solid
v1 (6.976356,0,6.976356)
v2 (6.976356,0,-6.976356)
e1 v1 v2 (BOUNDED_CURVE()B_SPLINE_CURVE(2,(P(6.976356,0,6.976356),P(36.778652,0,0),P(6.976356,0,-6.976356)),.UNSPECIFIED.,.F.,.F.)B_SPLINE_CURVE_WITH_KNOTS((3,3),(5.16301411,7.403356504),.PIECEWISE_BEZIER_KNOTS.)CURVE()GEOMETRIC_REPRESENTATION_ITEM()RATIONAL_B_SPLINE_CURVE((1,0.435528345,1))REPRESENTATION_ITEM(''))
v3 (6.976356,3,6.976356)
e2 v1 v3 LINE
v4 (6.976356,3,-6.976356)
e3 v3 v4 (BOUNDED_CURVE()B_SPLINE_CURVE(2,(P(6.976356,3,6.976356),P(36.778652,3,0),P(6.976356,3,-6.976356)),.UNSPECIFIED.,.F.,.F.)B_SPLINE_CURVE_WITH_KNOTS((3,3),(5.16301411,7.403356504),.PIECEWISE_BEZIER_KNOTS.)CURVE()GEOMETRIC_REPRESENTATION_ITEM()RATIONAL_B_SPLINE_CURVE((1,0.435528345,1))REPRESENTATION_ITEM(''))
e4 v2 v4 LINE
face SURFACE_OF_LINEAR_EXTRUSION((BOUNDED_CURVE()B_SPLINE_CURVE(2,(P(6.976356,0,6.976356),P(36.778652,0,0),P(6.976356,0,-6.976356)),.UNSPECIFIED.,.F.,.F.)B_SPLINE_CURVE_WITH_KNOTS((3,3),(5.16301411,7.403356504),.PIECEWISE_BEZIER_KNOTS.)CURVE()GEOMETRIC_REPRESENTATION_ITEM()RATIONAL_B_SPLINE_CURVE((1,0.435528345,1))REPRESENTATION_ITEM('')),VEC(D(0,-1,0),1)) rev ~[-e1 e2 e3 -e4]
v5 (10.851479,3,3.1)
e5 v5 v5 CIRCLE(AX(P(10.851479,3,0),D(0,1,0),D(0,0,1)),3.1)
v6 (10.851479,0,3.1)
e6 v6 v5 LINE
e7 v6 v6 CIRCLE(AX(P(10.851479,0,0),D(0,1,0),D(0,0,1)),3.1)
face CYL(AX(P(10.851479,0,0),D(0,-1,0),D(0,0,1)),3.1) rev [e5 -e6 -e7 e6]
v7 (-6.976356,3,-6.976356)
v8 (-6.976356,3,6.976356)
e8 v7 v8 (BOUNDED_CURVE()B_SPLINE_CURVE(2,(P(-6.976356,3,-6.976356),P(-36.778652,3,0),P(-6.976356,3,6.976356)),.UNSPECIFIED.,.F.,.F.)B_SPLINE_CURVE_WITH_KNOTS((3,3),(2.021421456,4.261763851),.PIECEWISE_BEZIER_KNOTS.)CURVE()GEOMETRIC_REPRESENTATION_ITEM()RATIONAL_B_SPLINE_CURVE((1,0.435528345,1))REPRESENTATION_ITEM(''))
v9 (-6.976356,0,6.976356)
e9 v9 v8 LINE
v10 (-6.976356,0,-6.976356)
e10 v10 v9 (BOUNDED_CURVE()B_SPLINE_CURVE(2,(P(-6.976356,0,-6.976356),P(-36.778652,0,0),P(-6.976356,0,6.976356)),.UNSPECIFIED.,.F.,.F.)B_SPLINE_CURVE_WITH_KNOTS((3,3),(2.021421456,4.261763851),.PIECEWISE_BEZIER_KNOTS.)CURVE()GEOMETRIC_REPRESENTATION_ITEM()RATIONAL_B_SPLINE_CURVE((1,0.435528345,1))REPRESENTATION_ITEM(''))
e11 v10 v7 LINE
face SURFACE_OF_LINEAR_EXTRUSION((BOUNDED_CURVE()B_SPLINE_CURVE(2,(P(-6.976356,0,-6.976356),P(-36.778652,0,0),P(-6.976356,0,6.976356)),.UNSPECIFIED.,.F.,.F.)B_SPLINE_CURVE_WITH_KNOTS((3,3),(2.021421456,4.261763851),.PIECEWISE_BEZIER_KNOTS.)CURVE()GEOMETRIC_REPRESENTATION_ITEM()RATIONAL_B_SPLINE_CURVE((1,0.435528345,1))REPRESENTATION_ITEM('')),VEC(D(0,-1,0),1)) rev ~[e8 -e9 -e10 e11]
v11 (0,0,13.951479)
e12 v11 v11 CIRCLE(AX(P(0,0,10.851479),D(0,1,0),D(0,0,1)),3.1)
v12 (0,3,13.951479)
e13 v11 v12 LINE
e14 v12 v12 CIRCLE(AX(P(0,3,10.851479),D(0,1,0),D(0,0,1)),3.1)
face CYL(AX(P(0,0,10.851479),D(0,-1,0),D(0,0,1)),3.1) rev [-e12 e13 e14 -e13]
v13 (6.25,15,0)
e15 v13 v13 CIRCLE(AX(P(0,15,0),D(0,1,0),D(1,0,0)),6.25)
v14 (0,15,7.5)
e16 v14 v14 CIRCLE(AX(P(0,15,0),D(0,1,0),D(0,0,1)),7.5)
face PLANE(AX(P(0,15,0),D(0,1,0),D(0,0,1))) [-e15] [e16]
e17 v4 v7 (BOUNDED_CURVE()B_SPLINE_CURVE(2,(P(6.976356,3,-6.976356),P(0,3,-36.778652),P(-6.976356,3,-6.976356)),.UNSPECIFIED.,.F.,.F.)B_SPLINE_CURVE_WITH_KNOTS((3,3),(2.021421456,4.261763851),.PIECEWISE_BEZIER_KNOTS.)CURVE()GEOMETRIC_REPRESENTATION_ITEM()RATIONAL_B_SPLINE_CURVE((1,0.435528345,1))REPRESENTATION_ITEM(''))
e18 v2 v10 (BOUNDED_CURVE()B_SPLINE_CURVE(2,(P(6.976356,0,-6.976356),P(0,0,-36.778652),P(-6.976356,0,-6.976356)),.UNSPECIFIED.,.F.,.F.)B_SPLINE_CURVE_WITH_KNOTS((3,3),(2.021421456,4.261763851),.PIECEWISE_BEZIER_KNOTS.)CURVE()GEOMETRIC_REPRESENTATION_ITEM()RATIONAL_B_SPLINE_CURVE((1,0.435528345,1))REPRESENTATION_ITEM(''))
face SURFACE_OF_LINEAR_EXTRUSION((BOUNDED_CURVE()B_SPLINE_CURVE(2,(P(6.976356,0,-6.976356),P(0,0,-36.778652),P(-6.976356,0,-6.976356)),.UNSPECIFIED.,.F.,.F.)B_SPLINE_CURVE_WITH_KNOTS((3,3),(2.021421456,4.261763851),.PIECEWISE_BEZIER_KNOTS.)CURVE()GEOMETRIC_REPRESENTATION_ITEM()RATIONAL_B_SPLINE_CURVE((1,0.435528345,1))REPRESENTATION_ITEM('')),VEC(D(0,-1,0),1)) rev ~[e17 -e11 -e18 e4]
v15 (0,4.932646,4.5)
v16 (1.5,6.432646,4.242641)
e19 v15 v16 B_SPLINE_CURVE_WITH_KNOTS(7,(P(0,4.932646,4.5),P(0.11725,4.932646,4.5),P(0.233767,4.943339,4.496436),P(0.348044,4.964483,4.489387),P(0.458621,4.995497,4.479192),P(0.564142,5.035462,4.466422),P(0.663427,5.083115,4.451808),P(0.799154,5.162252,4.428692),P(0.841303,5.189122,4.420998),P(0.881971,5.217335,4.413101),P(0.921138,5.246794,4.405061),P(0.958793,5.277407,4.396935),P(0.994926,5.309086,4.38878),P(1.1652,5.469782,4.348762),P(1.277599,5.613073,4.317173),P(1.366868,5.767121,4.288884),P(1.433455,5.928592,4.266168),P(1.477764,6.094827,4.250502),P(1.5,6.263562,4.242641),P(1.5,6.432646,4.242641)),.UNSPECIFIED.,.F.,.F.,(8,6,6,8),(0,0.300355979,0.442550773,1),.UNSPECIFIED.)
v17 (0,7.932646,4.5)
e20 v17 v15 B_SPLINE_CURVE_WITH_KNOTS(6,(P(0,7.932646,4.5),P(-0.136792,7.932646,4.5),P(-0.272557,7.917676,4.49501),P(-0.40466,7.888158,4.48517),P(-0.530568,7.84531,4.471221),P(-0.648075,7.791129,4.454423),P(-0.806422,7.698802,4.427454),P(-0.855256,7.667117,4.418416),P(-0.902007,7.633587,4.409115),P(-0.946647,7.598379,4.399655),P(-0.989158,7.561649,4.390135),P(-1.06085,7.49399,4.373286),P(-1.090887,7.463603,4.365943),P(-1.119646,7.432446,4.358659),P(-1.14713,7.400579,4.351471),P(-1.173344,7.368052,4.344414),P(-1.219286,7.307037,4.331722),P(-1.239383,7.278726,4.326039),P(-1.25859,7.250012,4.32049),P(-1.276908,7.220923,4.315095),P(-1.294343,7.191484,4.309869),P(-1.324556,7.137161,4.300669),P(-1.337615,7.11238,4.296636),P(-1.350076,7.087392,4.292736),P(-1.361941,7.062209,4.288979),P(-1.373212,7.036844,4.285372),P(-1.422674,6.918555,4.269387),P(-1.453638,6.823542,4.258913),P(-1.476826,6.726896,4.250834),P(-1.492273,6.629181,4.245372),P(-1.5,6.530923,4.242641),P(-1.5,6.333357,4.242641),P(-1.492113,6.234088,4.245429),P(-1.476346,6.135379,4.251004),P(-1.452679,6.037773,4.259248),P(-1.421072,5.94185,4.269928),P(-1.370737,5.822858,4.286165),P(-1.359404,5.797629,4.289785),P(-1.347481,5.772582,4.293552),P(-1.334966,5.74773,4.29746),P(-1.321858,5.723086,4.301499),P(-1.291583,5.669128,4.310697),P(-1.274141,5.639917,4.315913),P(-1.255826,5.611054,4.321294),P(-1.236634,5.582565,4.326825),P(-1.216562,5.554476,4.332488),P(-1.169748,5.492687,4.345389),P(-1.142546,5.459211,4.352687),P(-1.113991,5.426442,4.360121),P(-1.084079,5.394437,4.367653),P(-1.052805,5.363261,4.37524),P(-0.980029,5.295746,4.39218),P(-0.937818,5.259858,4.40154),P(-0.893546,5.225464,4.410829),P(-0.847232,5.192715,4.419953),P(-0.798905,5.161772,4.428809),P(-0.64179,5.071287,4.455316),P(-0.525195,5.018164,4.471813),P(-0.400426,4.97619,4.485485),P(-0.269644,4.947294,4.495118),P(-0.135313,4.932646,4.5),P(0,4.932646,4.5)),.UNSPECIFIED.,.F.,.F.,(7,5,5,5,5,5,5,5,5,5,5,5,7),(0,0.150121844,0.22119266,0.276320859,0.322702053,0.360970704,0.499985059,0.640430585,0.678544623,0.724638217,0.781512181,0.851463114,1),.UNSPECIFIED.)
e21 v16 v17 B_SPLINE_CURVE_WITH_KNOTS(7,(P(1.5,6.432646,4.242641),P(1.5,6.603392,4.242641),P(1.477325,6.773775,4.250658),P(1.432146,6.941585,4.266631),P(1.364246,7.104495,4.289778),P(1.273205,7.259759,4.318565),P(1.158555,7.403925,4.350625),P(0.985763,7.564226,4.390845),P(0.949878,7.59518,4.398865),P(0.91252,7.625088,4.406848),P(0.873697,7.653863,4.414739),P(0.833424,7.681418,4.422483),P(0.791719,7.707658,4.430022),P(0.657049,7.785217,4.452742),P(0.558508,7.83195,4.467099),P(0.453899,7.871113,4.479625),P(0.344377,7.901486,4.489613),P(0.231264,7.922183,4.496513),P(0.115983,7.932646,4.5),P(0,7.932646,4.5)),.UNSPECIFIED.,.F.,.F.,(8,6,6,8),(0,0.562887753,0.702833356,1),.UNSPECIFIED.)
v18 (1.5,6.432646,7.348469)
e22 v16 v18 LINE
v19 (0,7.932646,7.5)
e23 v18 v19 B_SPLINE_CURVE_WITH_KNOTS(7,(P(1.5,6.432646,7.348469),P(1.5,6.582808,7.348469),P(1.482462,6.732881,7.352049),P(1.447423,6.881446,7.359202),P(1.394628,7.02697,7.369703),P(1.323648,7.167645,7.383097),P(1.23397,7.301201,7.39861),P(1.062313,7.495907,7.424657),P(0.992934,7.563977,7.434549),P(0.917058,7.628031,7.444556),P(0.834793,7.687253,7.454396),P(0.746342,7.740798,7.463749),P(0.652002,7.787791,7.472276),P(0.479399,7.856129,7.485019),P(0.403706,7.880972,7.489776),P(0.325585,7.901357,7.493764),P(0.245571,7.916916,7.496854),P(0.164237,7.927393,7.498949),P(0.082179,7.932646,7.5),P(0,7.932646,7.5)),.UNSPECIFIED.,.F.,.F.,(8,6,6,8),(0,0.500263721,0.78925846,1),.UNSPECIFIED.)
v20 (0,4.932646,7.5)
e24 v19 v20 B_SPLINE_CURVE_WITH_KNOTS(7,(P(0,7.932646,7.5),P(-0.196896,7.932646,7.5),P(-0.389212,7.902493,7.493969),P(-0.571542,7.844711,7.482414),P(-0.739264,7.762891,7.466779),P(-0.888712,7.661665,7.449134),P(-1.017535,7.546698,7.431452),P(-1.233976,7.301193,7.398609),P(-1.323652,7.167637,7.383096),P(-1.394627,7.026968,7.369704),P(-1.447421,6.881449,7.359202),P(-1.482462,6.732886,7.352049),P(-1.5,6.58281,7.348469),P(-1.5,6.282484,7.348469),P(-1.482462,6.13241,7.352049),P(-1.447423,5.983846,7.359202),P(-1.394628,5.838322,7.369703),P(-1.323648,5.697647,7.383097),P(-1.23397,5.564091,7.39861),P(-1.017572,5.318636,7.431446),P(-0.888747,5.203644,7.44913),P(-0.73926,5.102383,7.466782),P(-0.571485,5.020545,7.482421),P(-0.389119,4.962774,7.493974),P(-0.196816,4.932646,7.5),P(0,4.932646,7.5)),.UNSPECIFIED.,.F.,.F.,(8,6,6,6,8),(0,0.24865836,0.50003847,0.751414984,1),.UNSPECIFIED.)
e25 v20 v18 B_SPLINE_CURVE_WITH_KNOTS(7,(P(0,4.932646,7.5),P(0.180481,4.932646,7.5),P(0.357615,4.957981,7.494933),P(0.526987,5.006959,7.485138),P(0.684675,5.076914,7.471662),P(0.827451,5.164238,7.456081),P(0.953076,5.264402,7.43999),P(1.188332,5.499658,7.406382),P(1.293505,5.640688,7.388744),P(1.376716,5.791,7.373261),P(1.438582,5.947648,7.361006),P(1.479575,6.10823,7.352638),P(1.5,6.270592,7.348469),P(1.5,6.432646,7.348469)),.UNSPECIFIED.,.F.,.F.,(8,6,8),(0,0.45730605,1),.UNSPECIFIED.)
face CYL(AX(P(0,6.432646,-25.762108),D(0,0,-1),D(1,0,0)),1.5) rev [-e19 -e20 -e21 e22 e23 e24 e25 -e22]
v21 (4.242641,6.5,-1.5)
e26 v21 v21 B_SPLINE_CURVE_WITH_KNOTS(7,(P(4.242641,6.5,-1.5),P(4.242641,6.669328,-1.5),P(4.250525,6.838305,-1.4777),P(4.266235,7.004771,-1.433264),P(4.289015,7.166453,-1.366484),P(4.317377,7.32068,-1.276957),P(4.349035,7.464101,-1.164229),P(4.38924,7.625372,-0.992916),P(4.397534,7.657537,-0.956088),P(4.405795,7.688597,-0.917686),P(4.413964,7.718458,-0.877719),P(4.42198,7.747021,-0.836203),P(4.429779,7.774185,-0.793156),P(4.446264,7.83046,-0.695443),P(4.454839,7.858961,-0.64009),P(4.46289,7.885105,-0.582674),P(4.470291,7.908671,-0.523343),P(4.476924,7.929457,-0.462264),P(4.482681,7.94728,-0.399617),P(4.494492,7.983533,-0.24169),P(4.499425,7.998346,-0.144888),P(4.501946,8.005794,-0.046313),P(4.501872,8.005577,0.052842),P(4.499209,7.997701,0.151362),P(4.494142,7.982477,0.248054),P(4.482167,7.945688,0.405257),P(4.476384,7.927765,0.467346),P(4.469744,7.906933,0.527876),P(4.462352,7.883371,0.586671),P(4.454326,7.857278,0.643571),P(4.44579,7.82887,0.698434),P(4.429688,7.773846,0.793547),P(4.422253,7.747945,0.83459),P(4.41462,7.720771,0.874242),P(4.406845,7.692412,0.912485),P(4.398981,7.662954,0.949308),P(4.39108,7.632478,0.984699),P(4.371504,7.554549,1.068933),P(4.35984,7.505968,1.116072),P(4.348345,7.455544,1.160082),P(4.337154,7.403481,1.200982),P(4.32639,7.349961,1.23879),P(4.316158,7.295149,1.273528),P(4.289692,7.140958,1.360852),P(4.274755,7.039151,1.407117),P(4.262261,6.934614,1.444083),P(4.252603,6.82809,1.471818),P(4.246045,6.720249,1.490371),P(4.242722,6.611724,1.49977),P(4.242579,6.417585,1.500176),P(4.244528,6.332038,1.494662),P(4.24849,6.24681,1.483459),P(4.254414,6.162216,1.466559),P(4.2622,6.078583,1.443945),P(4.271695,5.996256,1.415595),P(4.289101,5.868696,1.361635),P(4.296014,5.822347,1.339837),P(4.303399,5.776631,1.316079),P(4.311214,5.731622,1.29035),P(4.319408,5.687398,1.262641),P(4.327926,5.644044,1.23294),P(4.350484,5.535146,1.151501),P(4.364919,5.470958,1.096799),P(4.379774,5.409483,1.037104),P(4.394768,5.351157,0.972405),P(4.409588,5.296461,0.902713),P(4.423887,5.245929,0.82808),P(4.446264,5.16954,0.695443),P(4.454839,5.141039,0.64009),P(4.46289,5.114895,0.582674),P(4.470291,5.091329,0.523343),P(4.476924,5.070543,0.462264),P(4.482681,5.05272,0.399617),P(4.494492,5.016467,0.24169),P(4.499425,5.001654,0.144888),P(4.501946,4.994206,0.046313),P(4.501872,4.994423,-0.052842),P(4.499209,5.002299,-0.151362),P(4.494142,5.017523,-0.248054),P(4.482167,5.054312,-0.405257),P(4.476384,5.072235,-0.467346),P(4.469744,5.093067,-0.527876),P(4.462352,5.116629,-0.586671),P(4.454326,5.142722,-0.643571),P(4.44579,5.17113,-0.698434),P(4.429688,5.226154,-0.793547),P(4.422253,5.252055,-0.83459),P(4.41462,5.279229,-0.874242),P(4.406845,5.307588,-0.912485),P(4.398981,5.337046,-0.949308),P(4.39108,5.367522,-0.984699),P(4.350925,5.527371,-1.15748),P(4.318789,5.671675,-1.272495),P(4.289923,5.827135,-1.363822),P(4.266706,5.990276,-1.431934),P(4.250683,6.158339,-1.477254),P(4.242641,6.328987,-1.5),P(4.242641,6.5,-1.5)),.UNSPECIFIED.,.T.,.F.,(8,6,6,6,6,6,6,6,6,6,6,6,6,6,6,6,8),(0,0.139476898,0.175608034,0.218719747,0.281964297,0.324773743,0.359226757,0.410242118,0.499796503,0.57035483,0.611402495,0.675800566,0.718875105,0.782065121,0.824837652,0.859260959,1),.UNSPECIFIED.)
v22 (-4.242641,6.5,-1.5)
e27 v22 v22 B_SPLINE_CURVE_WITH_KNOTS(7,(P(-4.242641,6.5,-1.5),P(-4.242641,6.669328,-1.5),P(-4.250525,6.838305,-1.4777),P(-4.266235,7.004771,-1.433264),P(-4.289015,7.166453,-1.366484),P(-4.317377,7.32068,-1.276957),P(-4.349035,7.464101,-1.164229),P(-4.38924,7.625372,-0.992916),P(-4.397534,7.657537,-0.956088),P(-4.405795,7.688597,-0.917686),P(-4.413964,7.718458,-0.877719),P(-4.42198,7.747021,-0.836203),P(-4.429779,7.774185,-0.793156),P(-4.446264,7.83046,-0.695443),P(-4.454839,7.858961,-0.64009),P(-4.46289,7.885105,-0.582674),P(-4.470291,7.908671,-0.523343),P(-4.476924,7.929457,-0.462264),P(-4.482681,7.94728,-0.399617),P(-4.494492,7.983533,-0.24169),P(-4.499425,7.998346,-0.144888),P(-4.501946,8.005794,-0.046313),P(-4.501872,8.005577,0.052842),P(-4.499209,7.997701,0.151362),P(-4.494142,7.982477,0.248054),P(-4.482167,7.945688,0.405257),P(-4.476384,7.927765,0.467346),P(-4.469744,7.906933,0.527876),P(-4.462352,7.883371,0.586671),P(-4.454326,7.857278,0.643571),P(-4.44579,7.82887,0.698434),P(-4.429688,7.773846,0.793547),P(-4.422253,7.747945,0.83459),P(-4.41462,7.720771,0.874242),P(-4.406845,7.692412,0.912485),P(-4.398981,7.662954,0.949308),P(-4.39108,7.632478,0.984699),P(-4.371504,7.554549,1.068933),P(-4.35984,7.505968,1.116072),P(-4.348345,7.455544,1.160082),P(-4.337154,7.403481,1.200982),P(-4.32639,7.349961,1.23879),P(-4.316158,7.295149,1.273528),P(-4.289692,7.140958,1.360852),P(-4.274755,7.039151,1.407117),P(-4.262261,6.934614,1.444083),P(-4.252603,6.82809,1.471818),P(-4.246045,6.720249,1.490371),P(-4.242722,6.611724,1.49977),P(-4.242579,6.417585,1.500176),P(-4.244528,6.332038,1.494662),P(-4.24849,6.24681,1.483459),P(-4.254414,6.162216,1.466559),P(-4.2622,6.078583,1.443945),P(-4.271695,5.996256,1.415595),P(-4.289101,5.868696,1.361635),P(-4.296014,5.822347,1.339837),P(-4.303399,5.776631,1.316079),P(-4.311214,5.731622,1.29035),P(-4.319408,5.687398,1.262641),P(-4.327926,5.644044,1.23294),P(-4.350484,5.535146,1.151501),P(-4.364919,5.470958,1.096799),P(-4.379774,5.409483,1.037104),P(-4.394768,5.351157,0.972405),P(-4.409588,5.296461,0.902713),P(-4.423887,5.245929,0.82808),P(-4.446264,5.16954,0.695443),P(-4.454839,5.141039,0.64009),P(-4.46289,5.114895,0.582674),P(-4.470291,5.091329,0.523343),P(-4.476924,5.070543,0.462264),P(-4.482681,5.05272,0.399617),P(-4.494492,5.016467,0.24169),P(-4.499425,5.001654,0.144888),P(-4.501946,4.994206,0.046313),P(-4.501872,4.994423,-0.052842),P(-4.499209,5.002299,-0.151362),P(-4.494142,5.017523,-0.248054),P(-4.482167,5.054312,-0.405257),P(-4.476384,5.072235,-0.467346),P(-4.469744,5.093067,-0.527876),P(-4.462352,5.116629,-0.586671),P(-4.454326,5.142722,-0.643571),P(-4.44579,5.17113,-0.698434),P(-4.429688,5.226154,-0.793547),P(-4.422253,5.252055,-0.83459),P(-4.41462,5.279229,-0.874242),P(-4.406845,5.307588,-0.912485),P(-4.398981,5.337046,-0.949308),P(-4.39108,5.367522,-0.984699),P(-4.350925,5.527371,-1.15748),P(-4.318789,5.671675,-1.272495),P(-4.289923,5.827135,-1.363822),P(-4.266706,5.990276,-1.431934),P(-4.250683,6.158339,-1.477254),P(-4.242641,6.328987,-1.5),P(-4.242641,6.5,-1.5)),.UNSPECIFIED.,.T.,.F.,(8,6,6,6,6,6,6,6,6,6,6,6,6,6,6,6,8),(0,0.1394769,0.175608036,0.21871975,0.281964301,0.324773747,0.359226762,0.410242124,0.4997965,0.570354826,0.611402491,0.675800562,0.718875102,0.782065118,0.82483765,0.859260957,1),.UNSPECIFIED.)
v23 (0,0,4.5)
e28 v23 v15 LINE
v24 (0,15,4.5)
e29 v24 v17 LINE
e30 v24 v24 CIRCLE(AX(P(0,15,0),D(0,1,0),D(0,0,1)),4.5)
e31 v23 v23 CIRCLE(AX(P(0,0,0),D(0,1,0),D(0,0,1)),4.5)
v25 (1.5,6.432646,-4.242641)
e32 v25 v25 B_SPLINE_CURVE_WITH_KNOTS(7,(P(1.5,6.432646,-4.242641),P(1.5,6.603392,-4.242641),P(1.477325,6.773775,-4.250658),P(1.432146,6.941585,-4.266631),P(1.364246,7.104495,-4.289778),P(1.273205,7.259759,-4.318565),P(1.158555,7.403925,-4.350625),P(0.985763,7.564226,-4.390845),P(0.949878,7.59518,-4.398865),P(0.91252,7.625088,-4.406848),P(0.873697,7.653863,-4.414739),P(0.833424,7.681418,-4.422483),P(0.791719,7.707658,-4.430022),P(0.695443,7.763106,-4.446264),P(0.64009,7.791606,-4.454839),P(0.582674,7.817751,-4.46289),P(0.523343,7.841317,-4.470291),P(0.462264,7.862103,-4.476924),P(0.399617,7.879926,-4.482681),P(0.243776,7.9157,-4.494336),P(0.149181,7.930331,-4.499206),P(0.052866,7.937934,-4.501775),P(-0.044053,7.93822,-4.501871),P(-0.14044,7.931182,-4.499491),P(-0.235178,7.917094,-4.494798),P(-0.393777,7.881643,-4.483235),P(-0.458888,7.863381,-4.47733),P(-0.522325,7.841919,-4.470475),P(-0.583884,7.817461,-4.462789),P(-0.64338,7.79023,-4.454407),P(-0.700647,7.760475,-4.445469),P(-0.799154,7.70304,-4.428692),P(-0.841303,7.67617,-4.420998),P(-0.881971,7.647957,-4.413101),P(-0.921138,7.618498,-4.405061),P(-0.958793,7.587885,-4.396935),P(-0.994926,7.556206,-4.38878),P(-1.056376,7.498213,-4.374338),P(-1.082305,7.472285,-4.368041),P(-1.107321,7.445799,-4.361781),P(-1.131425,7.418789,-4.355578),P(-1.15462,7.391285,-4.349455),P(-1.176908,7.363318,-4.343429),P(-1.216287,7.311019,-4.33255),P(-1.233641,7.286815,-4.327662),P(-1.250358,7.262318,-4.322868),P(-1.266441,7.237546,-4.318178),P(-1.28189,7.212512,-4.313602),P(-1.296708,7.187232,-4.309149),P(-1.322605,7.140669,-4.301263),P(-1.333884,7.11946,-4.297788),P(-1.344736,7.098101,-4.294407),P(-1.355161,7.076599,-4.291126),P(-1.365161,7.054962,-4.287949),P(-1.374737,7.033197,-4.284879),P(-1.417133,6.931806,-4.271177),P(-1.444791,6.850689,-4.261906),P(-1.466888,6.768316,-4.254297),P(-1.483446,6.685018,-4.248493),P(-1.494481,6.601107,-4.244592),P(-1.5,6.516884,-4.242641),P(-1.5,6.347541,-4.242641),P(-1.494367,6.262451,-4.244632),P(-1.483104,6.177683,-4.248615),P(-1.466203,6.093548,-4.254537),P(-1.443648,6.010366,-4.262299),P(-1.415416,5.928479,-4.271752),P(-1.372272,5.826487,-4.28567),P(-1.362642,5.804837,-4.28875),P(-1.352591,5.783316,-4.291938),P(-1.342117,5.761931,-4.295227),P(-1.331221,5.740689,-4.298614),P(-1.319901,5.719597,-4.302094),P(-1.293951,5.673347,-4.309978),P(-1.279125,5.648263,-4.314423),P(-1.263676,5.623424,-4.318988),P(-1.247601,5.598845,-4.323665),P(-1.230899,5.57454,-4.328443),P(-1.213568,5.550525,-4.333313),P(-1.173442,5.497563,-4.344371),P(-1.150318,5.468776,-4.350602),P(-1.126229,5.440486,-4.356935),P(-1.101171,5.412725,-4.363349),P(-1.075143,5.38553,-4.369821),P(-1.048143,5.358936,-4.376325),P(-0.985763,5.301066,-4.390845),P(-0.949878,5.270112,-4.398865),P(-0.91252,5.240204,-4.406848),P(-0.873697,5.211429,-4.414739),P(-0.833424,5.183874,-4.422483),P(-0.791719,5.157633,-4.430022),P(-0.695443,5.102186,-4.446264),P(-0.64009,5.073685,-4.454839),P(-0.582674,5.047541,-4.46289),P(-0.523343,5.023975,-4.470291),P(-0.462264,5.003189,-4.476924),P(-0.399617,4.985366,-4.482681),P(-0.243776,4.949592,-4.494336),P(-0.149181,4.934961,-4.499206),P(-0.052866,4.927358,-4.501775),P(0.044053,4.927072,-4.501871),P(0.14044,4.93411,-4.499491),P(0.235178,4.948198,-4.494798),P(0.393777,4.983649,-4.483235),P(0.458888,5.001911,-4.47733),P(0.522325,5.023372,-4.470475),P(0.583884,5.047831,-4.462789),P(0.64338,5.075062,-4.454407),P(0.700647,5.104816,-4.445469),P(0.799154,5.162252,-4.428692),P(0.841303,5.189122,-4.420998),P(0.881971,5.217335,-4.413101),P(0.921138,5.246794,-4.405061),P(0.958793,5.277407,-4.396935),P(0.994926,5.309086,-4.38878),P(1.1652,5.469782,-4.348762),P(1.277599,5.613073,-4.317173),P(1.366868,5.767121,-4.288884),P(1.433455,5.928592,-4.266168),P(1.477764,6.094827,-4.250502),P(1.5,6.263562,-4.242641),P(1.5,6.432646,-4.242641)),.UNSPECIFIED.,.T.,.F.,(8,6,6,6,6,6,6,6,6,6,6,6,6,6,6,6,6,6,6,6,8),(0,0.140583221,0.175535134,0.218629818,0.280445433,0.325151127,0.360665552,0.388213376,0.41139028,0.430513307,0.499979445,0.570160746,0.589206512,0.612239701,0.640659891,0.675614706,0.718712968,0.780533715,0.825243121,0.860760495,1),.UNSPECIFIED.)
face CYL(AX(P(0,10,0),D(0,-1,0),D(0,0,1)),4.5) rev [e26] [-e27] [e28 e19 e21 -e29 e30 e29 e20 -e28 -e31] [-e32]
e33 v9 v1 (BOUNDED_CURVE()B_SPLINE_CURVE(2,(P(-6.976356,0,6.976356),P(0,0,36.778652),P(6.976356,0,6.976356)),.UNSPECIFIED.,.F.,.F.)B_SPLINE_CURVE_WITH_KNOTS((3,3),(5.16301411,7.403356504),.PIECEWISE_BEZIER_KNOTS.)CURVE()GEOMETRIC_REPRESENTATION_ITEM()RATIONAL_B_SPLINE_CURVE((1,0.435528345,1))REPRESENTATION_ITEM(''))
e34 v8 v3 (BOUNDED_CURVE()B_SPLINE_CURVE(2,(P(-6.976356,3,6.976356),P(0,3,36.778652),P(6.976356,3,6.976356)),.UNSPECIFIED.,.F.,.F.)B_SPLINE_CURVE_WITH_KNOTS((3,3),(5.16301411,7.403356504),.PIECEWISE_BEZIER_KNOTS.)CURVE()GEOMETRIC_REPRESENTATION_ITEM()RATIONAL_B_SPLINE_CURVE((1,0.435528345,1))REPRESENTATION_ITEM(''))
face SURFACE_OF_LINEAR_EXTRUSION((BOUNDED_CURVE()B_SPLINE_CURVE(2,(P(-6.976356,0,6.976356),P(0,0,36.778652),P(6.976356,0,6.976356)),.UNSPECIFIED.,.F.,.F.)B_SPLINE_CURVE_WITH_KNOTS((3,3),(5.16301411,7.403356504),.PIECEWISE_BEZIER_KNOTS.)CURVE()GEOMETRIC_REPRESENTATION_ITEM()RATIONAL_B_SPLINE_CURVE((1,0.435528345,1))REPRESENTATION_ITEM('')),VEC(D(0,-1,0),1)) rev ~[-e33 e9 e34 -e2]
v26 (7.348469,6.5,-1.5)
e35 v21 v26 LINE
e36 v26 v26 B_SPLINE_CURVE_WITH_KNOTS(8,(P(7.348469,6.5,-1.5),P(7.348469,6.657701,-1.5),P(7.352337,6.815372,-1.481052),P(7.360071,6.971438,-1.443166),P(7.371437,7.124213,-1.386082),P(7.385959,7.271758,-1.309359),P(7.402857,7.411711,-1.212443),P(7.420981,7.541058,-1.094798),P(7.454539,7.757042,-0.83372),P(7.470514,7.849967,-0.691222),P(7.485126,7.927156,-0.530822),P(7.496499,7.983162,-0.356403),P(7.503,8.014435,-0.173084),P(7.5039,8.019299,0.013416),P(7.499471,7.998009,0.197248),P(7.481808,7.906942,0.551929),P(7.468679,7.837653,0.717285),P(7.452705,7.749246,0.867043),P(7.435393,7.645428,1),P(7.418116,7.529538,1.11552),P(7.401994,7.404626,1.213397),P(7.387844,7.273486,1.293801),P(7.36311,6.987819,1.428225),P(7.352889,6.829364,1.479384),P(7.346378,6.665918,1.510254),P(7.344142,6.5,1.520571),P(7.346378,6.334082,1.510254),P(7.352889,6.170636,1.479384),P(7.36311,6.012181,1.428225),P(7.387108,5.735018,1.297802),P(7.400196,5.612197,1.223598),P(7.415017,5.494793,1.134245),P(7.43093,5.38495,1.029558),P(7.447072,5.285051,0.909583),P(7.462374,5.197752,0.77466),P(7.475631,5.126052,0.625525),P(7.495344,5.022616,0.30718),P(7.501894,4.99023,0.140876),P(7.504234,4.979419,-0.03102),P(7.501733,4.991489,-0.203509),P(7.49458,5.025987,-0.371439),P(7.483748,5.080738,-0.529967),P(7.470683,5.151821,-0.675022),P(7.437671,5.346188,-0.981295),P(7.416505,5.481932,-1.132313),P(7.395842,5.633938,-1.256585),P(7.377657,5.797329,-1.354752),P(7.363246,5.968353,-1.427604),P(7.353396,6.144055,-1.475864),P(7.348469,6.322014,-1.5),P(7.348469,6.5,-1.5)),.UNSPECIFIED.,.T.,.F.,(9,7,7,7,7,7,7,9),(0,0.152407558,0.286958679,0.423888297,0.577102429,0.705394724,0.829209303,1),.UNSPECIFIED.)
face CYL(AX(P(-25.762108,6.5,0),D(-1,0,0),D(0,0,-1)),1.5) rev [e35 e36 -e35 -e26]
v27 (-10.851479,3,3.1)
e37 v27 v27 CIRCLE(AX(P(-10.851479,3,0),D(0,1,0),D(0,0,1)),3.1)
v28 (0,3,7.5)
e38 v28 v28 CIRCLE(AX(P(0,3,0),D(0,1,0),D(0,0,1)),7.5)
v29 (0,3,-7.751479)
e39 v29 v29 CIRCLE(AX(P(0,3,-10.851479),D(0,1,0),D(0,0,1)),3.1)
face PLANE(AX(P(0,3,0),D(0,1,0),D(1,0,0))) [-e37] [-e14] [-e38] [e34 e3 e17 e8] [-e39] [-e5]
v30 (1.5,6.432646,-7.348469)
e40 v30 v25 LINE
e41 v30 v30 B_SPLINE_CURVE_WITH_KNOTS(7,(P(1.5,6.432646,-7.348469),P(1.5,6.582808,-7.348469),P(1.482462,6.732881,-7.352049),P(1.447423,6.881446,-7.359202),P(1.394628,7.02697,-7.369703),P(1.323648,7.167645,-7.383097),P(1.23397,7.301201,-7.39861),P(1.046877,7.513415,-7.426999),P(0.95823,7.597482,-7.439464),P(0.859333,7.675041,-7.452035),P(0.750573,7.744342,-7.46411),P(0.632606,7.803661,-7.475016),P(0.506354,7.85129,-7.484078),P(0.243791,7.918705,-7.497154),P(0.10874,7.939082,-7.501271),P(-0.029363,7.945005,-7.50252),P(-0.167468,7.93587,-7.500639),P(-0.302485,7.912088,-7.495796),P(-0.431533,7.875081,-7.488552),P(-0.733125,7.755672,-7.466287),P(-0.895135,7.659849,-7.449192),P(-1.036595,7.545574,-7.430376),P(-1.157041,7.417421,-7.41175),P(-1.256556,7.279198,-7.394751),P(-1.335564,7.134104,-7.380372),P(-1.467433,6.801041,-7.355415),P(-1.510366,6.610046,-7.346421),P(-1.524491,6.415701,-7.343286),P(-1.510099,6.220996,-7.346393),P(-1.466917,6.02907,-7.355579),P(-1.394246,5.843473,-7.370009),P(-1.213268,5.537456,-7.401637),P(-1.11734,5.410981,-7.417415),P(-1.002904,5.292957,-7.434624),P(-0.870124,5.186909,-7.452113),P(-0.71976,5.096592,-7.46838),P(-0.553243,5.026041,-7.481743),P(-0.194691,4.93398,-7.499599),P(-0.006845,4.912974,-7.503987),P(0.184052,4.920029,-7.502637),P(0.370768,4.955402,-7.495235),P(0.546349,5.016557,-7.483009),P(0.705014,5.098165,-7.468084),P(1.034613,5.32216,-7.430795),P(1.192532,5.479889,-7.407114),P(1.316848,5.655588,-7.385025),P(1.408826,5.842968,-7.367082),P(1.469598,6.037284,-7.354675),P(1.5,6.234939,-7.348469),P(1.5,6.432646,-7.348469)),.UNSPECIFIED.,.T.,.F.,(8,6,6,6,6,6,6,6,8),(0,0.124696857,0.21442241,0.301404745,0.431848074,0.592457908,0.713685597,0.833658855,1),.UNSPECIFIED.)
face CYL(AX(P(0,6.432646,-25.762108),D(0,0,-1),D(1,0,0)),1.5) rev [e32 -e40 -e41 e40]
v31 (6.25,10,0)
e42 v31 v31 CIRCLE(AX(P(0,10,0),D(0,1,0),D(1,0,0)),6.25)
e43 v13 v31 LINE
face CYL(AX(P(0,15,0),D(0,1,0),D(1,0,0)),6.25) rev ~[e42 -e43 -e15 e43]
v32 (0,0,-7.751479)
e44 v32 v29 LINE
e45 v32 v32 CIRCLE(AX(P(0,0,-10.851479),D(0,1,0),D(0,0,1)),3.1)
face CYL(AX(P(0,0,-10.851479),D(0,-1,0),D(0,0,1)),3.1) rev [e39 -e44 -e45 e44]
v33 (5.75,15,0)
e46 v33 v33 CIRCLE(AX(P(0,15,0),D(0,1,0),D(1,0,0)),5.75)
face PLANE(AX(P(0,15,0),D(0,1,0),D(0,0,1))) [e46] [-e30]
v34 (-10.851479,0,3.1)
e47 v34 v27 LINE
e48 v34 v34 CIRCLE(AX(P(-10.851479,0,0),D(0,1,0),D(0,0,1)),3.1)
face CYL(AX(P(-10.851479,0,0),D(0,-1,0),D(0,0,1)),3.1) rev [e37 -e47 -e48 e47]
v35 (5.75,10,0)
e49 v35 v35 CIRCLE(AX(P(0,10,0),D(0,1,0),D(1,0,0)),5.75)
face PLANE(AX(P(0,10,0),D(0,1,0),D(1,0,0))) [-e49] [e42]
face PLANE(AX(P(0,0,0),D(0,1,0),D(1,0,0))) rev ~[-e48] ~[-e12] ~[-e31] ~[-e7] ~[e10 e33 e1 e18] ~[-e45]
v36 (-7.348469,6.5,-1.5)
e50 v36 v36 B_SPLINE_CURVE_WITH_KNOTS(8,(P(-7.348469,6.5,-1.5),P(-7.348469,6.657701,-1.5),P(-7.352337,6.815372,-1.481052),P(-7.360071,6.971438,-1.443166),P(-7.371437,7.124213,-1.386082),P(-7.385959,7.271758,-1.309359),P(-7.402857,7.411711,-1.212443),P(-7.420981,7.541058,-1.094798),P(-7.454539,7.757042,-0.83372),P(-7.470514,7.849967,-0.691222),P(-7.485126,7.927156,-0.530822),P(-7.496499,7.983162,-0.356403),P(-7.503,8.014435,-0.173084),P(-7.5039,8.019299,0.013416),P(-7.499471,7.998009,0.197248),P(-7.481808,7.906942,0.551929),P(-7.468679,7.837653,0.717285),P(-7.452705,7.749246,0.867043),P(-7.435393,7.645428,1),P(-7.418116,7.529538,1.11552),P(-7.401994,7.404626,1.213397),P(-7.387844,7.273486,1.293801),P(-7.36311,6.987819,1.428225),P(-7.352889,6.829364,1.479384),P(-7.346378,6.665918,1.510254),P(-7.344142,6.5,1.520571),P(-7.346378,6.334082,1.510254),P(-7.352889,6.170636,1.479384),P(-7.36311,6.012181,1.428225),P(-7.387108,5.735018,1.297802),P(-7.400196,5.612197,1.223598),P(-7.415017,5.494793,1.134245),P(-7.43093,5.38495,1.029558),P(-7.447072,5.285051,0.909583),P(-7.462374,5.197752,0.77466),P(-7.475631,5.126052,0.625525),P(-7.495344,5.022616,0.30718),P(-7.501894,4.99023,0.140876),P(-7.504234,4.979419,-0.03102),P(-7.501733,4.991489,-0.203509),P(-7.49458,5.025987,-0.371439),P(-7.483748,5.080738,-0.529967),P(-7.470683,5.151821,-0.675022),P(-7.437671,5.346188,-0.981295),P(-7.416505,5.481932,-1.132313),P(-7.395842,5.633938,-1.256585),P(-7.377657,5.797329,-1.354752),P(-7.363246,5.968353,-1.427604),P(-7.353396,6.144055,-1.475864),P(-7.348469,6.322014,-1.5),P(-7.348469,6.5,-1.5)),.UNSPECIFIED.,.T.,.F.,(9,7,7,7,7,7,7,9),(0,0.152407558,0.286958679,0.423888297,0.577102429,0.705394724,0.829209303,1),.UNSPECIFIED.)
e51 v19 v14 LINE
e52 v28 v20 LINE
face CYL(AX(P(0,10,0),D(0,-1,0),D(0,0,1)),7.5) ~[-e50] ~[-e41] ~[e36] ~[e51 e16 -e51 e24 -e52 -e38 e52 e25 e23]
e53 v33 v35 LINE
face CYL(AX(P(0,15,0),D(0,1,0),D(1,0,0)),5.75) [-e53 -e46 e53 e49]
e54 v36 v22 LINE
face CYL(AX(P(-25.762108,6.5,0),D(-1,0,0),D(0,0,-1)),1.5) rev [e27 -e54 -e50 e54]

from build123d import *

# Parameters (mm, degrees)
SKETCH1_R               = 3.1
SKETCH1_R_2             = 7.5
BOSS_EXTRUDE1_DEPTH     = 3
SKETCH1_3_R             = 7.5
SKETCH1_3_R_2           = 4.5
BOSS_EXTRUDE2_DEPTH     = 10
CUT_EXTRUDE1_DEPTH      = 25.762107606
CUT_EXTRUDE1_DEPTH_BACK = 25.762107606
SKETCH2_R               = 1.5
CUT_EXTRUDE2_DEPTH      = 25.762107646
CUT_EXTRUDE2_DEPTH_BACK = 25.762107646
SKETCH3_R               = 1.5
SKETCH29_R              = 7.5
SKETCH29_R_2            = 4.5
BOSS_EXTRUDE3_DEPTH     = 5
SKETCH30_R              = 6.25
SKETCH30_R_2            = 5.75
CUT_EXTRUDE_THIN1_DEPTH = 5


with BuildPart() as part:
    # Sketch1 → Boss-Extrude1 (new body)
    with BuildSketch(Plane(origin=(0, 0, 0), x_dir=(1, 0, 0), z_dir=(0, 1, 0))):
        with BuildLine():
            add(Edge.make_bspline(
                [(6.976356378, 6.976356378), (0, 36.778651981), (-6.976356378, 6.976356378)],
                knots=[2.021421456, 2.021421456, 2.021421456, 4.261763851, 4.261763851, 4.261763851], degree=2, weights=[1, 0.435528345, 1]))
            add(Edge.make_bspline(
                [(-6.976356378, 6.976356378), (-36.778651981, 0), (-6.976356378, -6.976356378)],
                knots=[5.16301411, 5.16301411, 5.16301411, 7.403356504, 7.403356504, 7.403356504], degree=2, weights=[1, 0.435528345, 1]))
            add(Edge.make_bspline(
                [(-6.976356378, -6.976356378), (0, -36.778651981), (6.976356378, -6.976356378)],
                knots=[5.16301411, 5.16301411, 5.16301411, 7.403356504, 7.403356504, 7.403356504], degree=2, weights=[1, 0.435528345, 1]))
            add(Edge.make_bspline(
                [(6.976356378, -6.976356378), (36.778651981, 0), (6.976356378, 6.976356378)],
                knots=[2.021421456, 2.021421456, 2.021421456, 4.261763851, 4.261763851, 4.261763851], degree=2, weights=[1, 0.435528345, 1]))
        make_face()
        with Locations((0, -10.851478773)):
            Circle(SKETCH1_R, mode=Mode.SUBTRACT)
        with Locations((-10.851478773, 0)):
            Circle(SKETCH1_R, mode=Mode.SUBTRACT)
        Circle(SKETCH1_R_2, mode=Mode.SUBTRACT)
        with Locations((10.851478773, 0)):
            Circle(SKETCH1_R, mode=Mode.SUBTRACT)
        with Locations((0, 10.851478773)):
            Circle(SKETCH1_R, mode=Mode.SUBTRACT)
    extrude(amount=BOSS_EXTRUDE1_DEPTH)

    # Sketch1<3> → Boss-Extrude2 (add)
    with BuildSketch(Plane(origin=(0, 0, 0), x_dir=(1, 0, 0), z_dir=(0, 1, 0))):
        Circle(SKETCH1_3_R)
        Circle(SKETCH1_3_R_2, mode=Mode.SUBTRACT)
    extrude(amount=BOSS_EXTRUDE2_DEPTH)

    # Sketch2 → Cut-Extrude1 (cut, two sides: drawn at the far end of the back side and taken through both)
    with BuildSketch(Plane.XY.offset(-CUT_EXTRUDE1_DEPTH_BACK)):
        with Locations((0, 6.432645923)):
            Circle(SKETCH2_R)
    extrude(amount=CUT_EXTRUDE1_DEPTH + CUT_EXTRUDE1_DEPTH_BACK, mode=Mode.SUBTRACT)

    # Sketch3 → Cut-Extrude2 (cut, two sides: drawn at the far end of the back side and taken through both)
    with BuildSketch(Plane(origin=(0, 0, 0), x_dir=(0, 0, -1), z_dir=(1, 0, 0)).offset(-CUT_EXTRUDE2_DEPTH_BACK)):
        with Locations((0, 6.5)):
            Circle(SKETCH3_R)
    extrude(amount=CUT_EXTRUDE2_DEPTH + CUT_EXTRUDE2_DEPTH_BACK, mode=Mode.SUBTRACT)

    # Sketch29 → Boss-Extrude3 (add)
    with BuildSketch(Plane(origin=(0, 10, 0), x_dir=(1, 0, 0), z_dir=(0, 1, 0))):
        Circle(SKETCH29_R)
        Circle(SKETCH29_R_2, mode=Mode.SUBTRACT)
    extrude(amount=BOSS_EXTRUDE3_DEPTH)

    # Sketch30 → Cut-Extrude-Thin1 (cut)
    with BuildSketch(Plane(origin=(0, 15, 0), x_dir=(1, 0, 0), z_dir=(0, 1, 0))):
        Circle(SKETCH30_R)
        Circle(SKETCH30_R_2, mode=Mode.SUBTRACT)
    extrude(amount=-CUT_EXTRUDE_THIN1_DEPTH, mode=Mode.SUBTRACT)


solid = part.part
